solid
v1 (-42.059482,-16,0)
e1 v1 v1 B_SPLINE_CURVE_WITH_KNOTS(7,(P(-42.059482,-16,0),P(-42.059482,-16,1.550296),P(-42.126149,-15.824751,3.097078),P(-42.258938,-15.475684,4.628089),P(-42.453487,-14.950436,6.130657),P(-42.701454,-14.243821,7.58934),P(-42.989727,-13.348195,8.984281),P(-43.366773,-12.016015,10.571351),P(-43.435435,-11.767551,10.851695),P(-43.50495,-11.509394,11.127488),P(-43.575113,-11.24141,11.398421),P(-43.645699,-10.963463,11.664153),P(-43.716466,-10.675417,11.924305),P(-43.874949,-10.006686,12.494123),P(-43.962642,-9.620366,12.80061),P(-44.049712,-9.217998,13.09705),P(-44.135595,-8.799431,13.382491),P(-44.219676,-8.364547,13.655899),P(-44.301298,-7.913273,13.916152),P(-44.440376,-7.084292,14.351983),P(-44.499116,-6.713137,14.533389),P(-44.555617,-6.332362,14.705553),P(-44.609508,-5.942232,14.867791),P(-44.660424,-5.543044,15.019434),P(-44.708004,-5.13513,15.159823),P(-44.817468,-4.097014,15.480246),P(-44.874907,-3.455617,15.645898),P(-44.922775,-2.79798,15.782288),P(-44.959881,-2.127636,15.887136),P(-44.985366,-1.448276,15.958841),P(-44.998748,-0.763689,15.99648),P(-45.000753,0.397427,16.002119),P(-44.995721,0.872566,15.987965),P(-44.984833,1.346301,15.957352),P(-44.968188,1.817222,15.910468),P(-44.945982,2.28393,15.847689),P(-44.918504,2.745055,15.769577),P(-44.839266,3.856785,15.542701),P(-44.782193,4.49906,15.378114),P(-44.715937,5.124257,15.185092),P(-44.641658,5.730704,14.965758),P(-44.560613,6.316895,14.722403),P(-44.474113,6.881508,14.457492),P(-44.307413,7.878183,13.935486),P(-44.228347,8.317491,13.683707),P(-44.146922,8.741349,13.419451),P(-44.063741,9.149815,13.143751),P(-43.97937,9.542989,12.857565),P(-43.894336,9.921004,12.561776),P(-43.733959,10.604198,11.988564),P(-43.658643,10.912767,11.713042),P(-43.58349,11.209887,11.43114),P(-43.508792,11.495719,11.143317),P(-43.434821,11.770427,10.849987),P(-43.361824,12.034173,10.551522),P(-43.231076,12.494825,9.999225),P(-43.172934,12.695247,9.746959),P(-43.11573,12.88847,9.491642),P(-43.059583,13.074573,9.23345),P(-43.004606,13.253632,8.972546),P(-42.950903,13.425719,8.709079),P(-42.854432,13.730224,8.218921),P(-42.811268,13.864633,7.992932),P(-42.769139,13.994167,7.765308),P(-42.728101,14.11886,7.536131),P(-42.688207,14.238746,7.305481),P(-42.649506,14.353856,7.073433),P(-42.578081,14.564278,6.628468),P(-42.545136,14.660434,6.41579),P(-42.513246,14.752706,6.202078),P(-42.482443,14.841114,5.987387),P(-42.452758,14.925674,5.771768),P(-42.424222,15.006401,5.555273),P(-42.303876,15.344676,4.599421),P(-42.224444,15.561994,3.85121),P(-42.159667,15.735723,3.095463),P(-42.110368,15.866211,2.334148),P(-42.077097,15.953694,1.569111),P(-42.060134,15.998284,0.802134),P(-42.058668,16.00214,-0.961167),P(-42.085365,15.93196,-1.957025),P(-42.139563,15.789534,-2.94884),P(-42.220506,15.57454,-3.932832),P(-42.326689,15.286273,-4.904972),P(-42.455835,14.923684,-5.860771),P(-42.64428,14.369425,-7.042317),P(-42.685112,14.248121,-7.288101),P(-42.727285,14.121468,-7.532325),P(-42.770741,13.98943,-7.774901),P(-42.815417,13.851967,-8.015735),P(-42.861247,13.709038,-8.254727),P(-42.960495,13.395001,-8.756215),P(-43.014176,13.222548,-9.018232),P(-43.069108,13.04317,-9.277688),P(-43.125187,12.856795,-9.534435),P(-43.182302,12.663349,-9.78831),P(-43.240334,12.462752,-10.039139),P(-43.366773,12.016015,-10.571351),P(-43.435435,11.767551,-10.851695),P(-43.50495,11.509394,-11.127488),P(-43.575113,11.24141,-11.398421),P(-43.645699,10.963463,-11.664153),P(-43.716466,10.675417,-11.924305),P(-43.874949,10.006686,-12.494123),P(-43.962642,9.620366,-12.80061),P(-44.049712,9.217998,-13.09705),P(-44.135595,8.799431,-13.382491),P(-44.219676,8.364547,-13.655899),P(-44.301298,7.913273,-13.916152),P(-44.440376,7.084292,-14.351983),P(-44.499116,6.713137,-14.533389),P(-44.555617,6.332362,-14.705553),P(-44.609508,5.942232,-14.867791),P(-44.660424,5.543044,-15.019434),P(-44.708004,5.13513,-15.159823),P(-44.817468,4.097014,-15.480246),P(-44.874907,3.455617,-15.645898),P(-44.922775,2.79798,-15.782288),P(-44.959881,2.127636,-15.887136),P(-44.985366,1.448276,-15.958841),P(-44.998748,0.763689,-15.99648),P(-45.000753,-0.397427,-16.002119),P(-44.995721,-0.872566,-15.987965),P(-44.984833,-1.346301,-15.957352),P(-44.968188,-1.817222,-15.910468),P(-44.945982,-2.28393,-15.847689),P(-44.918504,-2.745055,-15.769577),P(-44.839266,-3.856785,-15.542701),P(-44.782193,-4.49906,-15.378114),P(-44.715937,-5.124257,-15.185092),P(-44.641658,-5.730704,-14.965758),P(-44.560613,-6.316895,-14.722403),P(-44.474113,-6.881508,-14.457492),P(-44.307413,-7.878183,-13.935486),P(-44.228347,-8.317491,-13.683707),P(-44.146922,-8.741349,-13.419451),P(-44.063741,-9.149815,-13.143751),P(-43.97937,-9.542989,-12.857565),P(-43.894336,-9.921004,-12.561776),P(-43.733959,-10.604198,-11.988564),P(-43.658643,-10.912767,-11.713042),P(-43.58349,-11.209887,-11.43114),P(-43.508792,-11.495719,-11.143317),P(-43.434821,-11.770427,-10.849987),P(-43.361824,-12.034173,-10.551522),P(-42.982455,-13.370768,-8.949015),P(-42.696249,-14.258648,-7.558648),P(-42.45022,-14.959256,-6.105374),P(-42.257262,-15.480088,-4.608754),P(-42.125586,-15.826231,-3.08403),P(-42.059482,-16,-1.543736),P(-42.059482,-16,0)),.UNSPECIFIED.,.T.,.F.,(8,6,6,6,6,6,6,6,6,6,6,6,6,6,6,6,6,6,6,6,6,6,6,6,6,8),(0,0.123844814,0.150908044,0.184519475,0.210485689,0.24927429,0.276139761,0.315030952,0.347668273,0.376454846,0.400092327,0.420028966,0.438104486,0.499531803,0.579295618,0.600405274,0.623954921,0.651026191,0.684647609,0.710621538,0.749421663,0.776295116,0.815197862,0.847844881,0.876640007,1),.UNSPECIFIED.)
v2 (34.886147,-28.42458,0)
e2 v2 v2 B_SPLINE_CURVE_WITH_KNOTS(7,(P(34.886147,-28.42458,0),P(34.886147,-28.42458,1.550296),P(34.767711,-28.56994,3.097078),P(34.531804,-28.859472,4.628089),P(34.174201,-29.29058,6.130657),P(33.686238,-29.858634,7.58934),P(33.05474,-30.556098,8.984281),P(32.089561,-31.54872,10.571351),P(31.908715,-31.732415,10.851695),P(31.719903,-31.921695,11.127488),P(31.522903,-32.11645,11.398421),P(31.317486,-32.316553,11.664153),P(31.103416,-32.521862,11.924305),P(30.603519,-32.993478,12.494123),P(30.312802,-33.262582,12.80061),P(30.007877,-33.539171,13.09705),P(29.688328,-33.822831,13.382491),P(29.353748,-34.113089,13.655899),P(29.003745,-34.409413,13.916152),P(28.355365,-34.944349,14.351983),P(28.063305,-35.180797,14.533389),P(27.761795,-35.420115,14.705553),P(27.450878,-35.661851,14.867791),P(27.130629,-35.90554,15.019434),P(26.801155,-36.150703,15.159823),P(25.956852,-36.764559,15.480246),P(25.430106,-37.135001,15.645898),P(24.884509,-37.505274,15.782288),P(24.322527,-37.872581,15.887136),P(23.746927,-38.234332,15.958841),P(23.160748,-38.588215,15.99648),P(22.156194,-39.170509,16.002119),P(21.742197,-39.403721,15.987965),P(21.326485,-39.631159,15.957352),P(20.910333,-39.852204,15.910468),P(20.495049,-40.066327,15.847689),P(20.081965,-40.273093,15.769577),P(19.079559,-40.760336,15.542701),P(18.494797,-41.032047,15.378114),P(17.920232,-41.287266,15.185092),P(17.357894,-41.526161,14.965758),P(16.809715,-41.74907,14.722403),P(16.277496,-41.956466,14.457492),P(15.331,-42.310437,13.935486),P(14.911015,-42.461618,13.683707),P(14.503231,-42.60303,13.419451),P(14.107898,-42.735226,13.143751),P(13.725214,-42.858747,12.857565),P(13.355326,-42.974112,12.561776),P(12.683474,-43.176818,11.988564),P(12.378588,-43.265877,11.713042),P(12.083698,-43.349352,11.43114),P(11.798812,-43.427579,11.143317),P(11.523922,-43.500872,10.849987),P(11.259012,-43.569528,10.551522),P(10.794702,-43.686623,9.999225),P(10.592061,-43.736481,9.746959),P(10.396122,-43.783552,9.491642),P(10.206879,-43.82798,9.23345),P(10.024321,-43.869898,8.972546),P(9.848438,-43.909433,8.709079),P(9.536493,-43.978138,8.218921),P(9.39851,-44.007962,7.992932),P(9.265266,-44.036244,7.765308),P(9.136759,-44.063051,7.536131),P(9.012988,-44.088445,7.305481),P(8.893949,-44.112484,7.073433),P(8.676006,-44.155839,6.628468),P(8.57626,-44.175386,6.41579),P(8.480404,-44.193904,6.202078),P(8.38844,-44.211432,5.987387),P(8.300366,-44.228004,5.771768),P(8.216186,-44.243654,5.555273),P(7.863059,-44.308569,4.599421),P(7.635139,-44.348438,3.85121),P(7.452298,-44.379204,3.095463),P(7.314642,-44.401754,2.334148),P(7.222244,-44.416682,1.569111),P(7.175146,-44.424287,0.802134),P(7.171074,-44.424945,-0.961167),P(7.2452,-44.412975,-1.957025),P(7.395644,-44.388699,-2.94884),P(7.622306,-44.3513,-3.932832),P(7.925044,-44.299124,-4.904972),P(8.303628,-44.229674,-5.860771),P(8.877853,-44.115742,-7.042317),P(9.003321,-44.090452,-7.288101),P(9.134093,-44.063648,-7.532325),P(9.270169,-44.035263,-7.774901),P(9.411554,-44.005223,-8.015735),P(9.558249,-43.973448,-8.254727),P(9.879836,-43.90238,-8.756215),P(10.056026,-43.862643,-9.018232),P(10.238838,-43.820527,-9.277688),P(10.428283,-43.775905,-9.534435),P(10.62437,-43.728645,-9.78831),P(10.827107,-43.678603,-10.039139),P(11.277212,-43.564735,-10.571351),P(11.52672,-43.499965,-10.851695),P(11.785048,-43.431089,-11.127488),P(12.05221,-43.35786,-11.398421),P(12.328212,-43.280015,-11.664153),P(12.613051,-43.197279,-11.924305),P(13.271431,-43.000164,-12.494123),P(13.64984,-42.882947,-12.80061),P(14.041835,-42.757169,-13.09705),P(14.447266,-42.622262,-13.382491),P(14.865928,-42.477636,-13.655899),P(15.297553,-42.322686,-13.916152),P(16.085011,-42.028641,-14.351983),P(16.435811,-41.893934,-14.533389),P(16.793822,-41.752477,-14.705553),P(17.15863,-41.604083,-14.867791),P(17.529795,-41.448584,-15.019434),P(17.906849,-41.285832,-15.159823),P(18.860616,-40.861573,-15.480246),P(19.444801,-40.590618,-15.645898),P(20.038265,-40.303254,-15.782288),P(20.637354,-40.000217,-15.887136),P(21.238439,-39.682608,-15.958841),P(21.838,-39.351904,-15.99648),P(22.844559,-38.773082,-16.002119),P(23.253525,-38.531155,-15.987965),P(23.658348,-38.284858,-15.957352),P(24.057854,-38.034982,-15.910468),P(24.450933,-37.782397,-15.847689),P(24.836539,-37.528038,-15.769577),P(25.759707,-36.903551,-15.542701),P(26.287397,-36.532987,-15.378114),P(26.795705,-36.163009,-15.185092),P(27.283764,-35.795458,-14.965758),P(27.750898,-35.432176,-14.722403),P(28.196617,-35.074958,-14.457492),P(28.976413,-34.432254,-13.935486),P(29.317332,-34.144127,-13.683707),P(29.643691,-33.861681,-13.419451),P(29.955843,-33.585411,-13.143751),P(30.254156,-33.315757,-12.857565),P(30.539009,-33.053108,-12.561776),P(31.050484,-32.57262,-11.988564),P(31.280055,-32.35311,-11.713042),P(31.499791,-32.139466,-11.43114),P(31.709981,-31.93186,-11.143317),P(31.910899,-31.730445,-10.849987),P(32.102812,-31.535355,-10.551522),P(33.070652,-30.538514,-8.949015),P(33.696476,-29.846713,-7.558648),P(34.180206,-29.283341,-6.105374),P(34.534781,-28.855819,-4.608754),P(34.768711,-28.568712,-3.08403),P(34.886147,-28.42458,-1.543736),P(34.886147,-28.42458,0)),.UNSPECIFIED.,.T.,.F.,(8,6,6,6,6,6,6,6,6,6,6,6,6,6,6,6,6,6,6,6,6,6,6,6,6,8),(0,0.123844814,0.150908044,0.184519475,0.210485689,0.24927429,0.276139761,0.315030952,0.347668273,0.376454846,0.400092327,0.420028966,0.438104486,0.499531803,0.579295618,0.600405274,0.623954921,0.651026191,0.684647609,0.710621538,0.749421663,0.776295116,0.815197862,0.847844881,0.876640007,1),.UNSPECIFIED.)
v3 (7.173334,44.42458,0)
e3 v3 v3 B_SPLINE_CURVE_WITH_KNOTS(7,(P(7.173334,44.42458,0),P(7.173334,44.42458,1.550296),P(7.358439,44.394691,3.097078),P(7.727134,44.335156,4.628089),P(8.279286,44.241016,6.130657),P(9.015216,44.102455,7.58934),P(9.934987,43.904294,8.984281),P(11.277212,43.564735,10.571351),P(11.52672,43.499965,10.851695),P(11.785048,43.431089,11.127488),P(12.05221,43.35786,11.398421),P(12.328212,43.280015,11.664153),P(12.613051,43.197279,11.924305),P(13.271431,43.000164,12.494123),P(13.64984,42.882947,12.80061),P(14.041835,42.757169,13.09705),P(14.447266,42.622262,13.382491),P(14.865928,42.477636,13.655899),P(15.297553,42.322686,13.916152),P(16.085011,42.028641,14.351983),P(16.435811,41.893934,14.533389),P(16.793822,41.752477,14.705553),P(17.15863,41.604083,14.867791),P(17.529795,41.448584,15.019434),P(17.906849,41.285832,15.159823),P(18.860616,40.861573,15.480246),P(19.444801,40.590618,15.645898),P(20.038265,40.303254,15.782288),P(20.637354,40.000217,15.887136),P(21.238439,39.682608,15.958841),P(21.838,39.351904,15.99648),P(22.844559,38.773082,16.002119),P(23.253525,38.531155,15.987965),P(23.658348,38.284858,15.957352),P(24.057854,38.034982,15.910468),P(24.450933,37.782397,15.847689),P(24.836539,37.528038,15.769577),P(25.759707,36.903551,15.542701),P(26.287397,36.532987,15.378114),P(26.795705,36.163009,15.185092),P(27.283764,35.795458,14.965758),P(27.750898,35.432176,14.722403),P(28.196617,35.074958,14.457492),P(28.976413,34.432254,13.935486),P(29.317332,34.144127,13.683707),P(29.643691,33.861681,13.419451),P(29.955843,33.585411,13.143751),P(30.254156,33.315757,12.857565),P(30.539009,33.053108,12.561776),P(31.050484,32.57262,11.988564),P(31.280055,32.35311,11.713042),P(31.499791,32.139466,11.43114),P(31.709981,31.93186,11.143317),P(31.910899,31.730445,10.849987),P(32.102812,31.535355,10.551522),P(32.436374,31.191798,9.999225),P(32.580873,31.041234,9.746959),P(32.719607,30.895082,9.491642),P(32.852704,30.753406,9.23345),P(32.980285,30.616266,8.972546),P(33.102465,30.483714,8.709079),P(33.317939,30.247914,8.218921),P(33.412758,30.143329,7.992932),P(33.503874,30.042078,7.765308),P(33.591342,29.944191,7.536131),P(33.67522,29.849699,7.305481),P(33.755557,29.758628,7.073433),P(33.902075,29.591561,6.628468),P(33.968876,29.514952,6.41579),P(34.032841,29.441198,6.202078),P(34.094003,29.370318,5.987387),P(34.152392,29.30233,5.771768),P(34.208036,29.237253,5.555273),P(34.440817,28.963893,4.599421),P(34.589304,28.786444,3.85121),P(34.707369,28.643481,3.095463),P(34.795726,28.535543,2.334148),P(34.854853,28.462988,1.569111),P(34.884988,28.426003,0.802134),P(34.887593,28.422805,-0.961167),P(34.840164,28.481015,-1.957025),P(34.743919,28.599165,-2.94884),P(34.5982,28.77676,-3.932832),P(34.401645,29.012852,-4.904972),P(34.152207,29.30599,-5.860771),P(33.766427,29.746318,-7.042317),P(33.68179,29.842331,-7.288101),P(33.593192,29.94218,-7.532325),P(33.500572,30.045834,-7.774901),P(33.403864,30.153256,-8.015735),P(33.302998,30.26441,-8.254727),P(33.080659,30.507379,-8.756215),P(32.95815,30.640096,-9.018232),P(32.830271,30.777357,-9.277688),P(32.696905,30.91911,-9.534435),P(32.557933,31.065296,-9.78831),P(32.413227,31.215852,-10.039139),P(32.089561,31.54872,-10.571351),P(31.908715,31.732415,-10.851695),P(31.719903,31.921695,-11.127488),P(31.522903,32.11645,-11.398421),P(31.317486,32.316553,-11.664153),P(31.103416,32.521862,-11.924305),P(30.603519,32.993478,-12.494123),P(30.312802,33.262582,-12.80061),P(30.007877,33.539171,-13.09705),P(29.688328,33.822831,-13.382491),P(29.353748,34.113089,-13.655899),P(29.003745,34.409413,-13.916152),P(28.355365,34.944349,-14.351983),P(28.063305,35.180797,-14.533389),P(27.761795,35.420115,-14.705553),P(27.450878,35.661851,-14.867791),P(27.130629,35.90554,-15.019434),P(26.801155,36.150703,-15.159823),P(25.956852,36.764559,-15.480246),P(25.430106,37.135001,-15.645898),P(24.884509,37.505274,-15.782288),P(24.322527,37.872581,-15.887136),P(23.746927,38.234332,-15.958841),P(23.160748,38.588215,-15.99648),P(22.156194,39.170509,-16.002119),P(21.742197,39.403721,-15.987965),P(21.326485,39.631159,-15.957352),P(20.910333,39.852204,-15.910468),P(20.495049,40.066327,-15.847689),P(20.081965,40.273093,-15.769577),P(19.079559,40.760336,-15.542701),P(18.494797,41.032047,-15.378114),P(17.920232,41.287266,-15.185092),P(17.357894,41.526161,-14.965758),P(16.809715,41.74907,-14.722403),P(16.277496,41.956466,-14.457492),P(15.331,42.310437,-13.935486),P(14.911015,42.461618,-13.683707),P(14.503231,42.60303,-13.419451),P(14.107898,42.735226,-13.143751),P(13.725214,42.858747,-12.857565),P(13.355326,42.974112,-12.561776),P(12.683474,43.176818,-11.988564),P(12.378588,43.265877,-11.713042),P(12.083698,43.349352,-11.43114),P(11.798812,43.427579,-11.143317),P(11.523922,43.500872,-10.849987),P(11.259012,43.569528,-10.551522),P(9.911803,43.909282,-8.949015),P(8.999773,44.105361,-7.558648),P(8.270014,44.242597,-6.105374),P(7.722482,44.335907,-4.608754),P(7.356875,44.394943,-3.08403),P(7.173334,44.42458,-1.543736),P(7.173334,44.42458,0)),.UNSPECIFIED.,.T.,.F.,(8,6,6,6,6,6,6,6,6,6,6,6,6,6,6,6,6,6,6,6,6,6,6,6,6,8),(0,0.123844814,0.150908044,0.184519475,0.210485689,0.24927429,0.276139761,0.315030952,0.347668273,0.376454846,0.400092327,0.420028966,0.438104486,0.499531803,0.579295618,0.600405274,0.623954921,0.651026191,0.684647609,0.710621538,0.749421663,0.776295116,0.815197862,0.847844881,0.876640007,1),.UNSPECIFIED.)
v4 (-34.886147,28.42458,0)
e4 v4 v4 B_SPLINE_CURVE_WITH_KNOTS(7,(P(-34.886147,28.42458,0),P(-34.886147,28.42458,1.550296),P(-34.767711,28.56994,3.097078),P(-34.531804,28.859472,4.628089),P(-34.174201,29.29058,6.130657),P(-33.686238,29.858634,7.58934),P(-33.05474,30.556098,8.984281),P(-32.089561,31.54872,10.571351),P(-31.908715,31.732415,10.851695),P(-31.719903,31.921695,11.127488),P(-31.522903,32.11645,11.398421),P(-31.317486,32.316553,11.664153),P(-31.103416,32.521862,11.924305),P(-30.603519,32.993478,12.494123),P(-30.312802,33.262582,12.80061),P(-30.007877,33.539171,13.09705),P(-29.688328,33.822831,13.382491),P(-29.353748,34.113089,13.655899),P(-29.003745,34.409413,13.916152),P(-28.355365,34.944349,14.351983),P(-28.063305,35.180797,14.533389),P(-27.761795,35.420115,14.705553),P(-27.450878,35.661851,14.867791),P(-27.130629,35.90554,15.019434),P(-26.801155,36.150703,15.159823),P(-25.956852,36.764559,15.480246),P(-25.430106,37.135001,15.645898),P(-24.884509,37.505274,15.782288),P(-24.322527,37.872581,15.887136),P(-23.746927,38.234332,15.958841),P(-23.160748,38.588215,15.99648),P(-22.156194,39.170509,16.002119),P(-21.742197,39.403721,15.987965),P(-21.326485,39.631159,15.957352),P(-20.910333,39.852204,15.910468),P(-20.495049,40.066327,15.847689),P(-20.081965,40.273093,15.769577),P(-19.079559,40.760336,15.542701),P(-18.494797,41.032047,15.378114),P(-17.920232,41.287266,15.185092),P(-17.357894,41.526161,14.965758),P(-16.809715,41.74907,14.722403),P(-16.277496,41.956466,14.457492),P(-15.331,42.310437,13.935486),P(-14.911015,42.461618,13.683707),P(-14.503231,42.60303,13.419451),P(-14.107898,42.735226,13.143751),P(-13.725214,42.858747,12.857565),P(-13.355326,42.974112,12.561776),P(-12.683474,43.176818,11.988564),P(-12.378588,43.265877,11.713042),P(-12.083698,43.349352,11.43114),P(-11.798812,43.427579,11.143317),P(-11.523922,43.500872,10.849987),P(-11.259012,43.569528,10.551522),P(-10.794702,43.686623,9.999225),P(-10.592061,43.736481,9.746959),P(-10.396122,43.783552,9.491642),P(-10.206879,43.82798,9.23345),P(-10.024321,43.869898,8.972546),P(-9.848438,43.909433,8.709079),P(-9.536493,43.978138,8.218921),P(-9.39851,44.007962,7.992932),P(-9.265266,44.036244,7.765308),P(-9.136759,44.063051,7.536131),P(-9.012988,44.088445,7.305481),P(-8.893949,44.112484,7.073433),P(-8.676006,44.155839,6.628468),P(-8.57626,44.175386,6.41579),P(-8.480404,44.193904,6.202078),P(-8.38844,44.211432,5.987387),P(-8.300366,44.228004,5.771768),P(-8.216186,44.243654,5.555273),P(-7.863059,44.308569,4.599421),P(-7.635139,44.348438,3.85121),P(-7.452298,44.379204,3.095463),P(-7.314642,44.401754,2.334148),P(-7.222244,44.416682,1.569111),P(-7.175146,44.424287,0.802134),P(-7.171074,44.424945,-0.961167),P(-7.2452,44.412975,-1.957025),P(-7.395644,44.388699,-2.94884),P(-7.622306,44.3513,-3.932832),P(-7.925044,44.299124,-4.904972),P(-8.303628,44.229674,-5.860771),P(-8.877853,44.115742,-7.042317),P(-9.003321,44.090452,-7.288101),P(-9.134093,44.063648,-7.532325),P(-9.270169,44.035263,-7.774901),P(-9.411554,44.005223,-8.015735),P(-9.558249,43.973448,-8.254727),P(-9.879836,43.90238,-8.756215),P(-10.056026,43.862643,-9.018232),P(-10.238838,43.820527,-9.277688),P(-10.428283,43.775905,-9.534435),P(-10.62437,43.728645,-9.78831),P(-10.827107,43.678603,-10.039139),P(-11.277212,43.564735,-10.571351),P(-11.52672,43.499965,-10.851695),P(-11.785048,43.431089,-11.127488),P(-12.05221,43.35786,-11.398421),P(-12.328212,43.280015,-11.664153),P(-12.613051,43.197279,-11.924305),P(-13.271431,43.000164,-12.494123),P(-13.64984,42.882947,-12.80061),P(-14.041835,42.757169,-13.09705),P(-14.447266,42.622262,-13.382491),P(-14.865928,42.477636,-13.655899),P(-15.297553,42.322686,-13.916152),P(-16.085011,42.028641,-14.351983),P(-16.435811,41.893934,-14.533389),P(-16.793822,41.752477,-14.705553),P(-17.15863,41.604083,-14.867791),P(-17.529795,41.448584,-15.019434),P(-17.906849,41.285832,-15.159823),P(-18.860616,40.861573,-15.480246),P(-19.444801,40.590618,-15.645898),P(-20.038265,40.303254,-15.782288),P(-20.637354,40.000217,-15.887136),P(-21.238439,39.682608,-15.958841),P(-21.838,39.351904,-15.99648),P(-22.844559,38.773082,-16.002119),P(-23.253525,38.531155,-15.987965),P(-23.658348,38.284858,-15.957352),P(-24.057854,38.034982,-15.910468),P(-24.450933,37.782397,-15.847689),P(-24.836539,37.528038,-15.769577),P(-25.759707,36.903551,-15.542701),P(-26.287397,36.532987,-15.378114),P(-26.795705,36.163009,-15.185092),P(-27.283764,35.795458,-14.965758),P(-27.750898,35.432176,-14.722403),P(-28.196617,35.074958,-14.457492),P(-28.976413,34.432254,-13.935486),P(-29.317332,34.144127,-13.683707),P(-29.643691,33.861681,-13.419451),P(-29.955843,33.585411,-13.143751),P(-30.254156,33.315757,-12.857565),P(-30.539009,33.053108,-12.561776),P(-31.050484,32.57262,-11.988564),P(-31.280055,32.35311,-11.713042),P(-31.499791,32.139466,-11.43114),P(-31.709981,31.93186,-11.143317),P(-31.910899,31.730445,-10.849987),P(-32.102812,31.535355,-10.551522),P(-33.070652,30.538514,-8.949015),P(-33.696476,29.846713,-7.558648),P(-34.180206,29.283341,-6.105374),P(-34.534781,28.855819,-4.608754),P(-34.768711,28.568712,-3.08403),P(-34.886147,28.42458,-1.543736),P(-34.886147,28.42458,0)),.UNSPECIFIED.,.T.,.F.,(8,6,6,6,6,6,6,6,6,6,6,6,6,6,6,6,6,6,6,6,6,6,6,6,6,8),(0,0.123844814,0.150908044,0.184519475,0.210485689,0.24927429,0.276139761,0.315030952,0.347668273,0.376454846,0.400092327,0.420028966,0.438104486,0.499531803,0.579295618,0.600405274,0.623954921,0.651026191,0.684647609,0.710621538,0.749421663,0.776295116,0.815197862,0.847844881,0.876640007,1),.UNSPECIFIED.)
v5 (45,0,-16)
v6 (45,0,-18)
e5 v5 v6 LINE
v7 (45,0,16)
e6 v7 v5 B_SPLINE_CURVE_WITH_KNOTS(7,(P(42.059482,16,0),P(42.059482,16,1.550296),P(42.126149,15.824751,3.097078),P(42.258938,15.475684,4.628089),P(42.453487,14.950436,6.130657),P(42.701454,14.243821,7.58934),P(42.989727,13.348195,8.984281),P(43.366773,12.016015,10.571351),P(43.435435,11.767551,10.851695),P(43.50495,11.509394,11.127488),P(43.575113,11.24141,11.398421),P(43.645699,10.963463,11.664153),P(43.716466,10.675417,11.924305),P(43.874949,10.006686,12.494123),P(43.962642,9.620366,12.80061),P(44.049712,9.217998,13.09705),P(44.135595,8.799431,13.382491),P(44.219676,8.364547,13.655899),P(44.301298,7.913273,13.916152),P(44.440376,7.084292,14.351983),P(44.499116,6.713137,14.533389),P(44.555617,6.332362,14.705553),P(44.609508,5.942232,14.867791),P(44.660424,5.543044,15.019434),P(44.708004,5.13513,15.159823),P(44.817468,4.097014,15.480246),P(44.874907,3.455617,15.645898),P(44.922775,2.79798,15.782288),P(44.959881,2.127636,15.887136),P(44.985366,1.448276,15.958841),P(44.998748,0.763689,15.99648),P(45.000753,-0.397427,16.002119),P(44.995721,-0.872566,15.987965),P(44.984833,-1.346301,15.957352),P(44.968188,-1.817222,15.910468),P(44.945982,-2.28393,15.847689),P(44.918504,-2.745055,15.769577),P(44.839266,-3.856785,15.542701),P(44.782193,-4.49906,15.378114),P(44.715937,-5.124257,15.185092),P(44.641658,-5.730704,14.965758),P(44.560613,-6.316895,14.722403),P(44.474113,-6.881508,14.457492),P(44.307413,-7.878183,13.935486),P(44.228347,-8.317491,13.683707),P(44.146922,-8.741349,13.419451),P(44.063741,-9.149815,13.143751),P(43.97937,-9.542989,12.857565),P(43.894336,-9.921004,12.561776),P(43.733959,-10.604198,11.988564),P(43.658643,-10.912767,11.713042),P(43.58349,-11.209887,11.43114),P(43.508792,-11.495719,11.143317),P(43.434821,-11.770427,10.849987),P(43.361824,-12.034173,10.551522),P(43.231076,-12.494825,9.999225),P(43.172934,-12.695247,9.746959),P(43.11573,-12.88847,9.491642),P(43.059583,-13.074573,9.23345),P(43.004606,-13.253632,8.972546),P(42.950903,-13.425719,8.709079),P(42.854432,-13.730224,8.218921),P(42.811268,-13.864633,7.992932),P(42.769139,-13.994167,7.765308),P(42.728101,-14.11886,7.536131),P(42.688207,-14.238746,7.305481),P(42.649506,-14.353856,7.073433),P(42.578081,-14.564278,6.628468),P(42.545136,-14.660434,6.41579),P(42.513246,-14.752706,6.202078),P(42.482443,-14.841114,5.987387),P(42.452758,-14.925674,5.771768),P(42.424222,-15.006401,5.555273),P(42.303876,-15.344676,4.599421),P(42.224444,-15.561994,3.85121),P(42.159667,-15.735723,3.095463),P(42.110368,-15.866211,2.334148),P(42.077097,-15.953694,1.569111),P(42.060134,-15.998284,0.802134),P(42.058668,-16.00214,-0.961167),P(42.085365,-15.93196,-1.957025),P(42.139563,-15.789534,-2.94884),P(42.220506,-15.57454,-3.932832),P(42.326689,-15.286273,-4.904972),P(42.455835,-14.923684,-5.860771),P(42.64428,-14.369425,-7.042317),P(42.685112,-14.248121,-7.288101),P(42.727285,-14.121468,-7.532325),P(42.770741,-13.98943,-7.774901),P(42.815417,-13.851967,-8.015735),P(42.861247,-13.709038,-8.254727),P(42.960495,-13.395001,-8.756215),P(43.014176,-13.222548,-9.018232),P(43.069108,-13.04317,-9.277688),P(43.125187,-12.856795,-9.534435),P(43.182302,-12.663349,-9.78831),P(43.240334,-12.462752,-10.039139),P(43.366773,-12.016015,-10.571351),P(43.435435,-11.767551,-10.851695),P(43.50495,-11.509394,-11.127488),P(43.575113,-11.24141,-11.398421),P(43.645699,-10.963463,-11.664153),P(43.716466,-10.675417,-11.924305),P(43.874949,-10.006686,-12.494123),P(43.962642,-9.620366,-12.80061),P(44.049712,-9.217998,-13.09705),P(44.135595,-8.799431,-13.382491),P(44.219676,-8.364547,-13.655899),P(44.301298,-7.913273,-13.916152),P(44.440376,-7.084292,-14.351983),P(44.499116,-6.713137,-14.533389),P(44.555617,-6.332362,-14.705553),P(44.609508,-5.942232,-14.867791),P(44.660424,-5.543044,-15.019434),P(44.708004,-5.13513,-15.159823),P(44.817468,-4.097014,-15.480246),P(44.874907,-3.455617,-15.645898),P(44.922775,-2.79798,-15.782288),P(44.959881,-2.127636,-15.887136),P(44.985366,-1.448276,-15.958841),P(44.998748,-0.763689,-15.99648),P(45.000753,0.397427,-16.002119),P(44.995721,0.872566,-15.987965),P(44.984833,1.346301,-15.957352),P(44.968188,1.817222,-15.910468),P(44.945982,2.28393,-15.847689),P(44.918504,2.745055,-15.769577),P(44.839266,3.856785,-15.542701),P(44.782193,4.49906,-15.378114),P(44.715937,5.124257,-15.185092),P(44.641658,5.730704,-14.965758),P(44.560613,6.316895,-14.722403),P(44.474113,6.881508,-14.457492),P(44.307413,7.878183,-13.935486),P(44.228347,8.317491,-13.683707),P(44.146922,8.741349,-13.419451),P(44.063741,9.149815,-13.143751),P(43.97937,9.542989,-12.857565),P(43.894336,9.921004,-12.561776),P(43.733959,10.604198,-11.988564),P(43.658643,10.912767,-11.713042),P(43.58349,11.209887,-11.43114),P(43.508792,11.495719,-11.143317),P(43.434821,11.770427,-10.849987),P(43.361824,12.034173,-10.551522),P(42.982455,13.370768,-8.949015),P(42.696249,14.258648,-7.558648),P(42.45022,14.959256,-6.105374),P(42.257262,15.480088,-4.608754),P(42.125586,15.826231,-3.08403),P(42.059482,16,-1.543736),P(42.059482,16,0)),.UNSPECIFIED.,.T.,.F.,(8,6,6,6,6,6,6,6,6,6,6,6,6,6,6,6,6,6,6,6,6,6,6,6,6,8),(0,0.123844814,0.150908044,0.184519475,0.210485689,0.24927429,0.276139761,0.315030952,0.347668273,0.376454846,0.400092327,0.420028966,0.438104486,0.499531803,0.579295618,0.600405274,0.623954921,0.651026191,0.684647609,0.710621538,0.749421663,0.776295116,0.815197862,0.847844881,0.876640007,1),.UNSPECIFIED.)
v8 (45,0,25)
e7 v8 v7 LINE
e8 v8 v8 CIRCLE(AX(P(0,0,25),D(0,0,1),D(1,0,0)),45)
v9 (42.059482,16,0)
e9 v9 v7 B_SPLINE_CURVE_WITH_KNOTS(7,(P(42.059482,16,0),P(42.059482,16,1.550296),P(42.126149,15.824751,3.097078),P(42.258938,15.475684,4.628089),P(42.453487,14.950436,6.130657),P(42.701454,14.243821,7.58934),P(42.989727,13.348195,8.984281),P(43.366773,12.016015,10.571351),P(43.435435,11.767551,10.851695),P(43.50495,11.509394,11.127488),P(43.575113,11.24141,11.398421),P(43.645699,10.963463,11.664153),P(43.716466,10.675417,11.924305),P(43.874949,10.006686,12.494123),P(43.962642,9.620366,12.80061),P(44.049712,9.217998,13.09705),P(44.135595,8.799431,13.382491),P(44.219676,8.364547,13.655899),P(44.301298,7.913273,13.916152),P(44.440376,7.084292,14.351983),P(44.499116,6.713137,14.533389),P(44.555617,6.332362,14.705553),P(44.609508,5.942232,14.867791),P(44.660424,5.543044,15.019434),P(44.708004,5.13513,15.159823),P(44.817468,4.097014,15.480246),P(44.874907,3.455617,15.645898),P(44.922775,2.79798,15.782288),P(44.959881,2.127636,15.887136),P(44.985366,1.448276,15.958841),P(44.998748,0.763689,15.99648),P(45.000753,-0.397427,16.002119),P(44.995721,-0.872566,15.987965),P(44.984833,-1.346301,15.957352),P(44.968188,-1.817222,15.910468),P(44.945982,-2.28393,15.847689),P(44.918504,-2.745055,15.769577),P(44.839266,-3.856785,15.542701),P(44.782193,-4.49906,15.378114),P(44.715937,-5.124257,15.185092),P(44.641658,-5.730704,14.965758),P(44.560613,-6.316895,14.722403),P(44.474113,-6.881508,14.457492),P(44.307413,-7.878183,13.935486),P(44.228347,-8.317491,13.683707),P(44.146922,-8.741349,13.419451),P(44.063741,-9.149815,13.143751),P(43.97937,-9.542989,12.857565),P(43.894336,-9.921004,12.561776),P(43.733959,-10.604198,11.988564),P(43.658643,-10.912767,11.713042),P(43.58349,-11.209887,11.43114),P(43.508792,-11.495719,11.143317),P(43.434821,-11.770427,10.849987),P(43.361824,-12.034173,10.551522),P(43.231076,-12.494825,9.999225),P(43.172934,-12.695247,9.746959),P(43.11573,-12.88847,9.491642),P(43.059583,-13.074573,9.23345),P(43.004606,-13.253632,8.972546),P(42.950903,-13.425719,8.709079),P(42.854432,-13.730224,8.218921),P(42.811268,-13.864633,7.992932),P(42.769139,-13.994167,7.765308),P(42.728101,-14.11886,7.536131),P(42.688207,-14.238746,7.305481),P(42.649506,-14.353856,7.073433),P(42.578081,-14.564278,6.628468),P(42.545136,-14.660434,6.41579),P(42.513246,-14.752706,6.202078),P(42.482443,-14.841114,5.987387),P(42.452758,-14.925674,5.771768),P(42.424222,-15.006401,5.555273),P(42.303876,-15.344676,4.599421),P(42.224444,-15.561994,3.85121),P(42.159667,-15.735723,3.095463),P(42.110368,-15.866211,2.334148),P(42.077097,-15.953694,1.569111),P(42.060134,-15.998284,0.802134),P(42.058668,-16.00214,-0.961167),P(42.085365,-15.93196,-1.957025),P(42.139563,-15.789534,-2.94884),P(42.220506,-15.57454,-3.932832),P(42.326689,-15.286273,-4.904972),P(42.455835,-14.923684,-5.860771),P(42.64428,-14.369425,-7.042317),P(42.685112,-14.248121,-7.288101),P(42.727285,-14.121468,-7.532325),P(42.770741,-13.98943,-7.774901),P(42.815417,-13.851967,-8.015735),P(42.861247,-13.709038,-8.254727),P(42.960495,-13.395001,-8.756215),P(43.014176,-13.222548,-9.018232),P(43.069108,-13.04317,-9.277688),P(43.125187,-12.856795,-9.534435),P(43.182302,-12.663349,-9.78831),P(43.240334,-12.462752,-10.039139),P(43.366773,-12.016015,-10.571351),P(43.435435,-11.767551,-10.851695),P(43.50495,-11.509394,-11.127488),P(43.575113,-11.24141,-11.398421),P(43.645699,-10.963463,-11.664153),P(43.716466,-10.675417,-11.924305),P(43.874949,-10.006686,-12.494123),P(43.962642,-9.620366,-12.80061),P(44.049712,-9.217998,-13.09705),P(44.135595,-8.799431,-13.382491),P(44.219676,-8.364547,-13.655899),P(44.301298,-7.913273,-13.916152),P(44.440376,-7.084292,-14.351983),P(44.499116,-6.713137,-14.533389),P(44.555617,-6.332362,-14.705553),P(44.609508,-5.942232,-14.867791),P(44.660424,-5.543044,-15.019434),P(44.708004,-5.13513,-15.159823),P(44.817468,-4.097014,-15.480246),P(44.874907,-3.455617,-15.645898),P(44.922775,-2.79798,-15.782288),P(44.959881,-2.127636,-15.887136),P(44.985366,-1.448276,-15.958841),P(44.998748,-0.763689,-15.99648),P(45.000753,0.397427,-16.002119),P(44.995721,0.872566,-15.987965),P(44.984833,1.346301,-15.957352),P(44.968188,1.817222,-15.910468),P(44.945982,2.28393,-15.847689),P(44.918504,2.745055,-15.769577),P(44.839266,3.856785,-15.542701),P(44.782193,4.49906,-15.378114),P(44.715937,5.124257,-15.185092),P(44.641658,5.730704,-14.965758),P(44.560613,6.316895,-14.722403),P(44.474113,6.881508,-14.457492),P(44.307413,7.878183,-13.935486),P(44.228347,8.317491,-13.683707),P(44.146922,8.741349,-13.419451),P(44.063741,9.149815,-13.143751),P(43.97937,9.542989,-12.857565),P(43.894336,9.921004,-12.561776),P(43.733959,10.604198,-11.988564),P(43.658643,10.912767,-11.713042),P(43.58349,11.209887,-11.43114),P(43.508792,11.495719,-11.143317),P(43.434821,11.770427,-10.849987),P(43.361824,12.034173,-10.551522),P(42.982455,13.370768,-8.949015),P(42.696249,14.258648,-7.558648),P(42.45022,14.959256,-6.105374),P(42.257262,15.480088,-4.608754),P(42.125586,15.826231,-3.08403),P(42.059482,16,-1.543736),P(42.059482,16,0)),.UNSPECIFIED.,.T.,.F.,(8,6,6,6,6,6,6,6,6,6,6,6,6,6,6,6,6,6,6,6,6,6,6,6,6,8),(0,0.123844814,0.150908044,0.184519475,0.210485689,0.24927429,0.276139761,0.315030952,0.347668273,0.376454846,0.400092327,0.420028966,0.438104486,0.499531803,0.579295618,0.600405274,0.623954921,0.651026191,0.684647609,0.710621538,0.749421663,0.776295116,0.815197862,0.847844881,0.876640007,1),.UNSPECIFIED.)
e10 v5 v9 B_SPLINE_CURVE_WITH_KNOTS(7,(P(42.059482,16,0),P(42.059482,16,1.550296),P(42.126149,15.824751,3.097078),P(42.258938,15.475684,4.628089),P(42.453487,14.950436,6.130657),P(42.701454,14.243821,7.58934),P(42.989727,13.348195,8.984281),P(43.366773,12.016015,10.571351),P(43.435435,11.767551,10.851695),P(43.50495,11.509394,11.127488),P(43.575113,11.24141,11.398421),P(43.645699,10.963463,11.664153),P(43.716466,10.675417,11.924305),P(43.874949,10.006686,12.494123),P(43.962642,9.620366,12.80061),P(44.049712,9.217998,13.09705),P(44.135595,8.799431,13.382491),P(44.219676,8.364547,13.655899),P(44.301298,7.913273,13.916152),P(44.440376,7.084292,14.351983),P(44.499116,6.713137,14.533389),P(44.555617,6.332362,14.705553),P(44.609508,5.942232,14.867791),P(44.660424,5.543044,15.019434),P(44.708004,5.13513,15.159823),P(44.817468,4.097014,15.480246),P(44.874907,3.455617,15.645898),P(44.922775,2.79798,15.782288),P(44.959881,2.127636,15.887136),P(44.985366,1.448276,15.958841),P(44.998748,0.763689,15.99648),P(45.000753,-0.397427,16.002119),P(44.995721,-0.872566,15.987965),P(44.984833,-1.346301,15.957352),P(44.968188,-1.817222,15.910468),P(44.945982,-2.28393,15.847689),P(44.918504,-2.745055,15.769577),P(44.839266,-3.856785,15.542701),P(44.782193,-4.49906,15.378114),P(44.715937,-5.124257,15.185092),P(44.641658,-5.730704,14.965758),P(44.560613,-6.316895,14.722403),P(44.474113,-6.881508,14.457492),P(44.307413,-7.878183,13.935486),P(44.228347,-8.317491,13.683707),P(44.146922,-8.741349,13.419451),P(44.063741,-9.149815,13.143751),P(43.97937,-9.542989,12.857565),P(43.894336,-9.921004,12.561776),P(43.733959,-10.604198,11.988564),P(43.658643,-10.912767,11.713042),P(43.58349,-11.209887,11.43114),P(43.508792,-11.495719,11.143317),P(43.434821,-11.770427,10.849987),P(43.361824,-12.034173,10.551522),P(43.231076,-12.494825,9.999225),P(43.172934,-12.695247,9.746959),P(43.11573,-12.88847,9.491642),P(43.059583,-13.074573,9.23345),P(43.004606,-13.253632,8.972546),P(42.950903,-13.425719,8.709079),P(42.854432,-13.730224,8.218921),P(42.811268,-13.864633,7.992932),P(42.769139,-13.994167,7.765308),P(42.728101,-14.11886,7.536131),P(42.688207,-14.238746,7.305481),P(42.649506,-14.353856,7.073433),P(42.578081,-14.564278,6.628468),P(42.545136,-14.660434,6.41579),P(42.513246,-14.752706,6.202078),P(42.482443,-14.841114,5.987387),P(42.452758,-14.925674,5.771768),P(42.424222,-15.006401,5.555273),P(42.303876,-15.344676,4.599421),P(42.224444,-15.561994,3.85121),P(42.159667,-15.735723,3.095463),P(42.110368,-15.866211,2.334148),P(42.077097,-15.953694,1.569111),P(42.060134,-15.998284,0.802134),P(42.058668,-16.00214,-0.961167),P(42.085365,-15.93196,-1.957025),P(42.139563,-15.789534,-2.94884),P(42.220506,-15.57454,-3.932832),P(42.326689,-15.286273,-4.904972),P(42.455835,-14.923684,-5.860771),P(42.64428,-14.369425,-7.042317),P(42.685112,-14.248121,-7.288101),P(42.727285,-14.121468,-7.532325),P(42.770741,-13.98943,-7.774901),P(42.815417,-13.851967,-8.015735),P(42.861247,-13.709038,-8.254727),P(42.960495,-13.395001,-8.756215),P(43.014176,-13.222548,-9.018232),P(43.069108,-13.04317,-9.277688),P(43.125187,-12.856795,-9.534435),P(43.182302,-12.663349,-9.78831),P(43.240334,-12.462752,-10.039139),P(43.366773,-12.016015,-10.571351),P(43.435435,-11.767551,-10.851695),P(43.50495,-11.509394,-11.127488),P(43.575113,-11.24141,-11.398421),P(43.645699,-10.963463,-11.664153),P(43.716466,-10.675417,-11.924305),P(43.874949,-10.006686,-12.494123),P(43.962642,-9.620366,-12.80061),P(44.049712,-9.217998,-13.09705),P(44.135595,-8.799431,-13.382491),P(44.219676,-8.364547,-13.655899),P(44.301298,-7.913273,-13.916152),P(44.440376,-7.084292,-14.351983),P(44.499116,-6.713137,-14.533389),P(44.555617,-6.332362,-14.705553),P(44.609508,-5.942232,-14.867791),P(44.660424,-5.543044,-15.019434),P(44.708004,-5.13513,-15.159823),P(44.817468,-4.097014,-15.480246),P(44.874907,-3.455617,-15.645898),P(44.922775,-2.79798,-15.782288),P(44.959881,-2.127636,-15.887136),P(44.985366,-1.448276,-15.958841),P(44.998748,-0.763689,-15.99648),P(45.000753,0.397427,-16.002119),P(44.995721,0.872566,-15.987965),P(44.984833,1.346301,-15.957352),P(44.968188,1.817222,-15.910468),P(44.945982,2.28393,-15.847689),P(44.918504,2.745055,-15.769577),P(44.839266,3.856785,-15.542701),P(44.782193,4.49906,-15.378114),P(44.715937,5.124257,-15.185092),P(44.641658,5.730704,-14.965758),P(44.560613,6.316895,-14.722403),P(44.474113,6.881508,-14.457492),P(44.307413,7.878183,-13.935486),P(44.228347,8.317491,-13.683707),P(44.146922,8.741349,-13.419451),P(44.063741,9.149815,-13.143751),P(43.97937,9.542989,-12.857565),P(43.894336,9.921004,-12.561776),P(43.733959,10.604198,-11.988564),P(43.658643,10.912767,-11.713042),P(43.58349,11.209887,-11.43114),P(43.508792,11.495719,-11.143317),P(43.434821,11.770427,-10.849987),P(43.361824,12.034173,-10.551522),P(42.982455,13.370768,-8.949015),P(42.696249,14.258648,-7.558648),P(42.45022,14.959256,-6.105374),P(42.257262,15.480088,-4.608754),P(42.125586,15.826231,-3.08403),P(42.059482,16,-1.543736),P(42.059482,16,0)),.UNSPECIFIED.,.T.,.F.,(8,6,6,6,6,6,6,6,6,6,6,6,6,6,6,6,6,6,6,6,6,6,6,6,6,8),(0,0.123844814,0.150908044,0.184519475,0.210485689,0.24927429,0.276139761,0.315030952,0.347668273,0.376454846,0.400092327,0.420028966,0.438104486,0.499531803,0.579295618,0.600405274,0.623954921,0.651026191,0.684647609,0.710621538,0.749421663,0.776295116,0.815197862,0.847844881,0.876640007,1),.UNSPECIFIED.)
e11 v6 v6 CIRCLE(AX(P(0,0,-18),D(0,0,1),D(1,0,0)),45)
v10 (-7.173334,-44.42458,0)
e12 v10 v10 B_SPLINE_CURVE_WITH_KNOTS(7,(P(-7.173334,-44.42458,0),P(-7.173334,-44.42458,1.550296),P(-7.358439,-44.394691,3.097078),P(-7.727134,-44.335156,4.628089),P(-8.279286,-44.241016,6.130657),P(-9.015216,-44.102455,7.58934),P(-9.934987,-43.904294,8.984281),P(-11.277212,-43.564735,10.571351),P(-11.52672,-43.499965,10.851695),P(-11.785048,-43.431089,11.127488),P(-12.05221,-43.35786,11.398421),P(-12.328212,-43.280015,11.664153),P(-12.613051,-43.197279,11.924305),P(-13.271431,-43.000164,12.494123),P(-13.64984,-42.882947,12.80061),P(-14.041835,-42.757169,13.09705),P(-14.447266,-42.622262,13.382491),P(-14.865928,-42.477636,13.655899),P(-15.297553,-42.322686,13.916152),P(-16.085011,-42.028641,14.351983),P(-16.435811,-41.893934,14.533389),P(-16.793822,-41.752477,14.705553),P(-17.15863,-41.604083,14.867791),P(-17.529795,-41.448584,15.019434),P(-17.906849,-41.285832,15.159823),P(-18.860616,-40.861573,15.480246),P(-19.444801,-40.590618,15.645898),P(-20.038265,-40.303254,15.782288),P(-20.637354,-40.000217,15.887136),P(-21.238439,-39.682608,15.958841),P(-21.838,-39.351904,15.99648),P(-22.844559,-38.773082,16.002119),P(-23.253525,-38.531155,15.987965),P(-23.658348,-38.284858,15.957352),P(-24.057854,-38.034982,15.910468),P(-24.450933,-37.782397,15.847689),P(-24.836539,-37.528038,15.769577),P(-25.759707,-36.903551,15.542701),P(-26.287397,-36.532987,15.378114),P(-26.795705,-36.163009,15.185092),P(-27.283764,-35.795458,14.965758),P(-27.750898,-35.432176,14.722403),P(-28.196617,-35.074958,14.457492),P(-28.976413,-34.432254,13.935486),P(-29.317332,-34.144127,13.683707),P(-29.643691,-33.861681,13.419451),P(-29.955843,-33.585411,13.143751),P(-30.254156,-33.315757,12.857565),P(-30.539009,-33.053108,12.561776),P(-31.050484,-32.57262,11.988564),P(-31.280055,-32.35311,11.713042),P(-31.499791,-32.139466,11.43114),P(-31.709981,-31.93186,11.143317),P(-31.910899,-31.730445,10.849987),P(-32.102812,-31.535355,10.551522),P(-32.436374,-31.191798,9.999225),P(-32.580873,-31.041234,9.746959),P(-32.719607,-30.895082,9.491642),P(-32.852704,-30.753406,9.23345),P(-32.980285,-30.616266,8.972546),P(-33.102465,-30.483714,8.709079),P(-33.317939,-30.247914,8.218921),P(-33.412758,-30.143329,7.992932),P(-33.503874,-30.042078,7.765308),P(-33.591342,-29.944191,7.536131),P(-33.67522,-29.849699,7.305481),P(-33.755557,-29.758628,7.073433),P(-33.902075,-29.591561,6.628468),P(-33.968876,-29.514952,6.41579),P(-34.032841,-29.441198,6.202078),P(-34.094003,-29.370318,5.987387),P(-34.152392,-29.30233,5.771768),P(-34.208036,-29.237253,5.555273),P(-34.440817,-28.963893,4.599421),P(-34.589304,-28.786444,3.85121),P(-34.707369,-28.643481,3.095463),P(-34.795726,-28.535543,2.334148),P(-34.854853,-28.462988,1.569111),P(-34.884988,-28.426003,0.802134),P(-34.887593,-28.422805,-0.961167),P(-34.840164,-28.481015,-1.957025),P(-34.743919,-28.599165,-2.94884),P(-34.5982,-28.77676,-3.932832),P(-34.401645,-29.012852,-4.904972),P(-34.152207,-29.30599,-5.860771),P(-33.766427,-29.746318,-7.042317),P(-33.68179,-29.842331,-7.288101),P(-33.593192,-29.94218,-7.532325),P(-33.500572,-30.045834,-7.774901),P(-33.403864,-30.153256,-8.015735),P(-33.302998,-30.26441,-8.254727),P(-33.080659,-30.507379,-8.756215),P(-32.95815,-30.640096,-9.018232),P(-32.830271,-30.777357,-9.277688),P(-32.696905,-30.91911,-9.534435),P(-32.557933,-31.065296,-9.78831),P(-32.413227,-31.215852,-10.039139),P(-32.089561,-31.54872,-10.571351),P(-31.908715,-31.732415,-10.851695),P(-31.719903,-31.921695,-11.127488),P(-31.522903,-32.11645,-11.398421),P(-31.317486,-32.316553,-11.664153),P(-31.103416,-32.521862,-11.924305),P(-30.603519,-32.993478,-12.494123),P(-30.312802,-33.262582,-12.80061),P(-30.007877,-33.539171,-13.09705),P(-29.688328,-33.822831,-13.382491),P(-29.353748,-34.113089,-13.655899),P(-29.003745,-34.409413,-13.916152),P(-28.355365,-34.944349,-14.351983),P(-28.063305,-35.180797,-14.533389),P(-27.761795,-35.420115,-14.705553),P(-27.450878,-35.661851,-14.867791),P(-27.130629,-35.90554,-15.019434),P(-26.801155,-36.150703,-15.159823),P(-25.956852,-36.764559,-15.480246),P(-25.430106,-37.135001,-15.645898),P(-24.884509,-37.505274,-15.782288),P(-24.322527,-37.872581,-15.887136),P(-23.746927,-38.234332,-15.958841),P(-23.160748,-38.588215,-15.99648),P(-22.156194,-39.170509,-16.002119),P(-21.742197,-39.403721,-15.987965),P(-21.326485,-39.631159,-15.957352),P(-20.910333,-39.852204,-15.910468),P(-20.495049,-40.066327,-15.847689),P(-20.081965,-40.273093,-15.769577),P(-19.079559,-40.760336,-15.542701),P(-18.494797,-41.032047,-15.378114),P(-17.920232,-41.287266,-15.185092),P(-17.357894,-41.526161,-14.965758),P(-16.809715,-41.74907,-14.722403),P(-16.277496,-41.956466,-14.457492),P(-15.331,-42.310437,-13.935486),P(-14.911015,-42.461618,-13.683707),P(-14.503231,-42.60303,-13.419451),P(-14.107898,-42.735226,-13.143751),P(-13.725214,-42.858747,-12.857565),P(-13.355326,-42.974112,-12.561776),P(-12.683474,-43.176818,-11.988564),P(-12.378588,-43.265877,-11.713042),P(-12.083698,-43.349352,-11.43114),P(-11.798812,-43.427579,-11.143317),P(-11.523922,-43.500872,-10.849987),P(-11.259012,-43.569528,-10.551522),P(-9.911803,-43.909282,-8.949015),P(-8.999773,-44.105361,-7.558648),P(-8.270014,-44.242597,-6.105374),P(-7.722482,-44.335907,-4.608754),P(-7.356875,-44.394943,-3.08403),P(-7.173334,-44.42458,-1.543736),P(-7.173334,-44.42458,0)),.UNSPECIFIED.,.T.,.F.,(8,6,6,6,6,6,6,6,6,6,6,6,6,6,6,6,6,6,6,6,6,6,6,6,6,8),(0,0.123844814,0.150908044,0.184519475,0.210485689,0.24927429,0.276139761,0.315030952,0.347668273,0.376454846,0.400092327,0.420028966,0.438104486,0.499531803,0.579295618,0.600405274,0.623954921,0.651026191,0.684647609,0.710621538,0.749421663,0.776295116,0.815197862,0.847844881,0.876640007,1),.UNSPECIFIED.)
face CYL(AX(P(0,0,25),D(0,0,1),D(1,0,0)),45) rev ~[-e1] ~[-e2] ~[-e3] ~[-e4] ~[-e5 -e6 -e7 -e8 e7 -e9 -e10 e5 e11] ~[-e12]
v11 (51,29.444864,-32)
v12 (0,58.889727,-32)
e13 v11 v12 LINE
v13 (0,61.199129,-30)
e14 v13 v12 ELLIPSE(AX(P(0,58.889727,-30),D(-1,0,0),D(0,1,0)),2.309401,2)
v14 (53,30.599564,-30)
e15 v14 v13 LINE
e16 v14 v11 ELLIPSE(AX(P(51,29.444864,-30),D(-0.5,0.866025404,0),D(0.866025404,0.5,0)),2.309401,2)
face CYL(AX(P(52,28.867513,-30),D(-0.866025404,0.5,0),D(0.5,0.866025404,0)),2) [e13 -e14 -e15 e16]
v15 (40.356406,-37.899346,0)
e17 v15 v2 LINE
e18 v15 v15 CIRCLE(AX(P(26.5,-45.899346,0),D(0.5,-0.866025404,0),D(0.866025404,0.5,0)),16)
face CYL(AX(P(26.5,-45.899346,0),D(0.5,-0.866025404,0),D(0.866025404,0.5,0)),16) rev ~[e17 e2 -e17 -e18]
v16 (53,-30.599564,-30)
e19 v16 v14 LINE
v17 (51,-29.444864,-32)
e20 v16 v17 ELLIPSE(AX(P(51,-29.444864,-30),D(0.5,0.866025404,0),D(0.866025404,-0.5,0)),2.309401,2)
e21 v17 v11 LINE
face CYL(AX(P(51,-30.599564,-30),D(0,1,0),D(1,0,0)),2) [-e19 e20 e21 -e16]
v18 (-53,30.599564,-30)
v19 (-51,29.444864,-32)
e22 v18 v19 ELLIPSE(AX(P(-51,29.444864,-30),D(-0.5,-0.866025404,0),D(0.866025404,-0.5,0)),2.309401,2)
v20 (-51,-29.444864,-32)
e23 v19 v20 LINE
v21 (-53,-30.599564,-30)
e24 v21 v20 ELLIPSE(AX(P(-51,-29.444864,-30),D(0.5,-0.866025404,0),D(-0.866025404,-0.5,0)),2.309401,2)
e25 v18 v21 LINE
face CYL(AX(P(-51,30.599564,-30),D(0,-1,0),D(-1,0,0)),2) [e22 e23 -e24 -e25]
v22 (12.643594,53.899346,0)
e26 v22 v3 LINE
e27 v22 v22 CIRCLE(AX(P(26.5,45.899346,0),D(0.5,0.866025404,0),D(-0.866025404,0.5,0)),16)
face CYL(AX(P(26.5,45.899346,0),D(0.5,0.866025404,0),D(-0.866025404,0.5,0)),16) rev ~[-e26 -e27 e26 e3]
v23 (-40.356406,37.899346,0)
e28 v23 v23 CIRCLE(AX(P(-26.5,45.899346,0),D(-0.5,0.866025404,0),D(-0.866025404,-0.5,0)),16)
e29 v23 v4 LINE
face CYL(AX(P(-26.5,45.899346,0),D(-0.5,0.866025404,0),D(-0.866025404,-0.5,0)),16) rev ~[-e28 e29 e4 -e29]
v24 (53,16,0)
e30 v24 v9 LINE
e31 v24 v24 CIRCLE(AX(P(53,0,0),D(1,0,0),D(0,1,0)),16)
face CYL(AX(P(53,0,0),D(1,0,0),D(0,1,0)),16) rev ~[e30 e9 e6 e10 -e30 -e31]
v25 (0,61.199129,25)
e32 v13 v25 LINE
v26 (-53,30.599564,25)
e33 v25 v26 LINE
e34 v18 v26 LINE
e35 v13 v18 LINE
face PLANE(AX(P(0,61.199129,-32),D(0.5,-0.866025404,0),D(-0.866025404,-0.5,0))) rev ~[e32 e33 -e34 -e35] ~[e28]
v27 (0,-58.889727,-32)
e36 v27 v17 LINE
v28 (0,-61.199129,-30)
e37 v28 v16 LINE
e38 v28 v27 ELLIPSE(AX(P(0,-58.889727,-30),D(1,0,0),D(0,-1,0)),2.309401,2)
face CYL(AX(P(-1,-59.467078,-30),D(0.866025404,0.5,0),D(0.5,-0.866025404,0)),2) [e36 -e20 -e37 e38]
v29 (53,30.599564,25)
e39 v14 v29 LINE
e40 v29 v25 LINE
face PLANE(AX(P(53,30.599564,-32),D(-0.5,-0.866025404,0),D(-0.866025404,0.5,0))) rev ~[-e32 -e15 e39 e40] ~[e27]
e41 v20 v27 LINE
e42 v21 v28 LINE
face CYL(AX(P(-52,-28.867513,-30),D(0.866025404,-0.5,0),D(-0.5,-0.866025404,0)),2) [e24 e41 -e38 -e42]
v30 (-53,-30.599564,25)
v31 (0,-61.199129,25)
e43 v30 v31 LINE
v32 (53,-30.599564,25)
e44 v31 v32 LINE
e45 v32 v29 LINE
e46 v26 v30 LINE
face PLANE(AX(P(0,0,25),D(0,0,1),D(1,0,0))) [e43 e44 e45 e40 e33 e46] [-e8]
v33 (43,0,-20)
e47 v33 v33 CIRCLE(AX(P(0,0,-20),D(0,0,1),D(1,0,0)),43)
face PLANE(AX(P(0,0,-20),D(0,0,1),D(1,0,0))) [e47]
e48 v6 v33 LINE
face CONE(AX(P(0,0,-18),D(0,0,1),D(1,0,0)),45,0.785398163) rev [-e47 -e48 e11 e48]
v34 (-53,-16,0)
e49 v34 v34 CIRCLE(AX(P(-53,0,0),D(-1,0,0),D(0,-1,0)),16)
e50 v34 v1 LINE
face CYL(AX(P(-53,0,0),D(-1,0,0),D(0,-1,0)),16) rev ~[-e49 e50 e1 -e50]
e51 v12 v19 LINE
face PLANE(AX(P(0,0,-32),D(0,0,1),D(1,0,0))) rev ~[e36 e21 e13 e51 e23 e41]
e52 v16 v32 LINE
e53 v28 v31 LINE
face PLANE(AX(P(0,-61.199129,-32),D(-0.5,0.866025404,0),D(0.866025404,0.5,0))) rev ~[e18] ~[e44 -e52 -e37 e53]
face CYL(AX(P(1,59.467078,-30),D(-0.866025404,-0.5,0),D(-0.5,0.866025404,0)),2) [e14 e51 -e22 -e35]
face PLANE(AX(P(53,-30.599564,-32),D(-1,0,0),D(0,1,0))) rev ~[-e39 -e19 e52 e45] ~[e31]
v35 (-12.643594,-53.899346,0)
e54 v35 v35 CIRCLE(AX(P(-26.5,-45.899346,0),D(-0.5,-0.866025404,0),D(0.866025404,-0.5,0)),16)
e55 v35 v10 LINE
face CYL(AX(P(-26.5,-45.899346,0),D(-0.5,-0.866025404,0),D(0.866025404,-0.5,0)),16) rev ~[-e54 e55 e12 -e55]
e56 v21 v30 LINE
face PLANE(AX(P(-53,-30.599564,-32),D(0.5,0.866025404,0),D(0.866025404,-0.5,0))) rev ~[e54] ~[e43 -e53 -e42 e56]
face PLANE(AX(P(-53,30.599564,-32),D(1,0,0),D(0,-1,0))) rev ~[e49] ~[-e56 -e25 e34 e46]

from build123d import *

# Parameters (mm, degrees)
BOSS_EXTRUDE1_DEPTH      = 25
BOSS_EXTRUDE1_DEPTH_BACK = 32
SKETCH2_R                = 45
CUT_EXTRUDE1_DEPTH       = 45
CUT_EXTRUDE2_REACH       = 139.165
CUT_EXTRUDE2_END_RADIUS  = 45
SKETCH3_R                = 16
CIRPATTERN1_COUNT        = 6
CHAMFER2_SIZE            = 2
FILLET1_R                = 2


with BuildPart() as part:
    # Sketch1 → Boss-Extrude1 (new, two sides: drawn at the far end of the back side and taken through both)
    with BuildSketch(Plane.XY.offset(-BOSS_EXTRUDE1_DEPTH_BACK)):
        Polygon((0, 61.199128534), (-53, 30.599564267), (-53, -30.599564267), (0, -61.199128534), (53, -30.599564267), (53, 30.599564267), align=None)
    extrude(amount=BOSS_EXTRUDE1_DEPTH + BOSS_EXTRUDE1_DEPTH_BACK)

    # Sketch2 → Cut-Extrude1 (cut)
    with BuildSketch(Plane.XY.offset(25)):
        Circle(SKETCH2_R)
    extrude(amount=-CUT_EXTRUDE1_DEPTH, mode=Mode.SUBTRACT)

    # Cut-Extrude2: up to this cylinder (the profile starts outside it)
    cut_extrude2_end = Plane(origin=(0, 0, 0), z_dir=(0, 0, 1)) * Cylinder(CUT_EXTRUDE2_END_RADIUS, 369.33, mode=Mode.PRIVATE)
    # Sketch3 → Cut-Extrude2 (cut, up to the surface)
    with BuildSketch(Plane(origin=(26.5, -45.899346401, 0), x_dir=(0.8660254037844387, 0.4999999999999999, 0), z_dir=(0.4999999999999999, -0.8660254037844387, 0)), mode=Mode.PRIVATE) as cut_extrude2_sk1:
        Circle(SKETCH3_R)
    cut_extrude2_tool1 = extrude(cut_extrude2_sk1.sketch, amount=-CUT_EXTRUDE2_REACH, mode=Mode.PRIVATE) - cut_extrude2_end
    cut_extrude2 = cut_extrude2_tool1.solids().sort_by_distance((26.5, -45.899346, 0))[0]
    add(cut_extrude2, mode=Mode.SUBTRACT)

    # CirPattern1: Cut-Extrude2 ×6 about axis
    cirpattern1_axis = Axis((0, 0, 25), (0, 0, 1))
    for i in range(1, CIRPATTERN1_COUNT):
        add(cut_extrude2.rotate(cirpattern1_axis, i * 360 / CIRPATTERN1_COUNT), mode=Mode.SUBTRACT)

    # Chamfer2
    chamfer2_edges = [part.edges().sort_by_distance(p)[0] for p in [
        (-45, 0, -20),
    ]]
    chamfer(chamfer2_edges, length=CHAMFER2_SIZE)

    # Fillet1
    fillet1_edges = [part.edges().sort_by_distance(p)[0] for p in [
        (-53, 0, -32),
        (-26.5, -45.899346401, -32),
        (26.5, -45.899346401, -32),
        (53, 0, -32),
        (26.5, 45.899346401, -32),
        (-26.5, 45.899346401, -32),
    ]]
    fillet(fillet1_edges, radius=FILLET1_R)


solid = part.part
